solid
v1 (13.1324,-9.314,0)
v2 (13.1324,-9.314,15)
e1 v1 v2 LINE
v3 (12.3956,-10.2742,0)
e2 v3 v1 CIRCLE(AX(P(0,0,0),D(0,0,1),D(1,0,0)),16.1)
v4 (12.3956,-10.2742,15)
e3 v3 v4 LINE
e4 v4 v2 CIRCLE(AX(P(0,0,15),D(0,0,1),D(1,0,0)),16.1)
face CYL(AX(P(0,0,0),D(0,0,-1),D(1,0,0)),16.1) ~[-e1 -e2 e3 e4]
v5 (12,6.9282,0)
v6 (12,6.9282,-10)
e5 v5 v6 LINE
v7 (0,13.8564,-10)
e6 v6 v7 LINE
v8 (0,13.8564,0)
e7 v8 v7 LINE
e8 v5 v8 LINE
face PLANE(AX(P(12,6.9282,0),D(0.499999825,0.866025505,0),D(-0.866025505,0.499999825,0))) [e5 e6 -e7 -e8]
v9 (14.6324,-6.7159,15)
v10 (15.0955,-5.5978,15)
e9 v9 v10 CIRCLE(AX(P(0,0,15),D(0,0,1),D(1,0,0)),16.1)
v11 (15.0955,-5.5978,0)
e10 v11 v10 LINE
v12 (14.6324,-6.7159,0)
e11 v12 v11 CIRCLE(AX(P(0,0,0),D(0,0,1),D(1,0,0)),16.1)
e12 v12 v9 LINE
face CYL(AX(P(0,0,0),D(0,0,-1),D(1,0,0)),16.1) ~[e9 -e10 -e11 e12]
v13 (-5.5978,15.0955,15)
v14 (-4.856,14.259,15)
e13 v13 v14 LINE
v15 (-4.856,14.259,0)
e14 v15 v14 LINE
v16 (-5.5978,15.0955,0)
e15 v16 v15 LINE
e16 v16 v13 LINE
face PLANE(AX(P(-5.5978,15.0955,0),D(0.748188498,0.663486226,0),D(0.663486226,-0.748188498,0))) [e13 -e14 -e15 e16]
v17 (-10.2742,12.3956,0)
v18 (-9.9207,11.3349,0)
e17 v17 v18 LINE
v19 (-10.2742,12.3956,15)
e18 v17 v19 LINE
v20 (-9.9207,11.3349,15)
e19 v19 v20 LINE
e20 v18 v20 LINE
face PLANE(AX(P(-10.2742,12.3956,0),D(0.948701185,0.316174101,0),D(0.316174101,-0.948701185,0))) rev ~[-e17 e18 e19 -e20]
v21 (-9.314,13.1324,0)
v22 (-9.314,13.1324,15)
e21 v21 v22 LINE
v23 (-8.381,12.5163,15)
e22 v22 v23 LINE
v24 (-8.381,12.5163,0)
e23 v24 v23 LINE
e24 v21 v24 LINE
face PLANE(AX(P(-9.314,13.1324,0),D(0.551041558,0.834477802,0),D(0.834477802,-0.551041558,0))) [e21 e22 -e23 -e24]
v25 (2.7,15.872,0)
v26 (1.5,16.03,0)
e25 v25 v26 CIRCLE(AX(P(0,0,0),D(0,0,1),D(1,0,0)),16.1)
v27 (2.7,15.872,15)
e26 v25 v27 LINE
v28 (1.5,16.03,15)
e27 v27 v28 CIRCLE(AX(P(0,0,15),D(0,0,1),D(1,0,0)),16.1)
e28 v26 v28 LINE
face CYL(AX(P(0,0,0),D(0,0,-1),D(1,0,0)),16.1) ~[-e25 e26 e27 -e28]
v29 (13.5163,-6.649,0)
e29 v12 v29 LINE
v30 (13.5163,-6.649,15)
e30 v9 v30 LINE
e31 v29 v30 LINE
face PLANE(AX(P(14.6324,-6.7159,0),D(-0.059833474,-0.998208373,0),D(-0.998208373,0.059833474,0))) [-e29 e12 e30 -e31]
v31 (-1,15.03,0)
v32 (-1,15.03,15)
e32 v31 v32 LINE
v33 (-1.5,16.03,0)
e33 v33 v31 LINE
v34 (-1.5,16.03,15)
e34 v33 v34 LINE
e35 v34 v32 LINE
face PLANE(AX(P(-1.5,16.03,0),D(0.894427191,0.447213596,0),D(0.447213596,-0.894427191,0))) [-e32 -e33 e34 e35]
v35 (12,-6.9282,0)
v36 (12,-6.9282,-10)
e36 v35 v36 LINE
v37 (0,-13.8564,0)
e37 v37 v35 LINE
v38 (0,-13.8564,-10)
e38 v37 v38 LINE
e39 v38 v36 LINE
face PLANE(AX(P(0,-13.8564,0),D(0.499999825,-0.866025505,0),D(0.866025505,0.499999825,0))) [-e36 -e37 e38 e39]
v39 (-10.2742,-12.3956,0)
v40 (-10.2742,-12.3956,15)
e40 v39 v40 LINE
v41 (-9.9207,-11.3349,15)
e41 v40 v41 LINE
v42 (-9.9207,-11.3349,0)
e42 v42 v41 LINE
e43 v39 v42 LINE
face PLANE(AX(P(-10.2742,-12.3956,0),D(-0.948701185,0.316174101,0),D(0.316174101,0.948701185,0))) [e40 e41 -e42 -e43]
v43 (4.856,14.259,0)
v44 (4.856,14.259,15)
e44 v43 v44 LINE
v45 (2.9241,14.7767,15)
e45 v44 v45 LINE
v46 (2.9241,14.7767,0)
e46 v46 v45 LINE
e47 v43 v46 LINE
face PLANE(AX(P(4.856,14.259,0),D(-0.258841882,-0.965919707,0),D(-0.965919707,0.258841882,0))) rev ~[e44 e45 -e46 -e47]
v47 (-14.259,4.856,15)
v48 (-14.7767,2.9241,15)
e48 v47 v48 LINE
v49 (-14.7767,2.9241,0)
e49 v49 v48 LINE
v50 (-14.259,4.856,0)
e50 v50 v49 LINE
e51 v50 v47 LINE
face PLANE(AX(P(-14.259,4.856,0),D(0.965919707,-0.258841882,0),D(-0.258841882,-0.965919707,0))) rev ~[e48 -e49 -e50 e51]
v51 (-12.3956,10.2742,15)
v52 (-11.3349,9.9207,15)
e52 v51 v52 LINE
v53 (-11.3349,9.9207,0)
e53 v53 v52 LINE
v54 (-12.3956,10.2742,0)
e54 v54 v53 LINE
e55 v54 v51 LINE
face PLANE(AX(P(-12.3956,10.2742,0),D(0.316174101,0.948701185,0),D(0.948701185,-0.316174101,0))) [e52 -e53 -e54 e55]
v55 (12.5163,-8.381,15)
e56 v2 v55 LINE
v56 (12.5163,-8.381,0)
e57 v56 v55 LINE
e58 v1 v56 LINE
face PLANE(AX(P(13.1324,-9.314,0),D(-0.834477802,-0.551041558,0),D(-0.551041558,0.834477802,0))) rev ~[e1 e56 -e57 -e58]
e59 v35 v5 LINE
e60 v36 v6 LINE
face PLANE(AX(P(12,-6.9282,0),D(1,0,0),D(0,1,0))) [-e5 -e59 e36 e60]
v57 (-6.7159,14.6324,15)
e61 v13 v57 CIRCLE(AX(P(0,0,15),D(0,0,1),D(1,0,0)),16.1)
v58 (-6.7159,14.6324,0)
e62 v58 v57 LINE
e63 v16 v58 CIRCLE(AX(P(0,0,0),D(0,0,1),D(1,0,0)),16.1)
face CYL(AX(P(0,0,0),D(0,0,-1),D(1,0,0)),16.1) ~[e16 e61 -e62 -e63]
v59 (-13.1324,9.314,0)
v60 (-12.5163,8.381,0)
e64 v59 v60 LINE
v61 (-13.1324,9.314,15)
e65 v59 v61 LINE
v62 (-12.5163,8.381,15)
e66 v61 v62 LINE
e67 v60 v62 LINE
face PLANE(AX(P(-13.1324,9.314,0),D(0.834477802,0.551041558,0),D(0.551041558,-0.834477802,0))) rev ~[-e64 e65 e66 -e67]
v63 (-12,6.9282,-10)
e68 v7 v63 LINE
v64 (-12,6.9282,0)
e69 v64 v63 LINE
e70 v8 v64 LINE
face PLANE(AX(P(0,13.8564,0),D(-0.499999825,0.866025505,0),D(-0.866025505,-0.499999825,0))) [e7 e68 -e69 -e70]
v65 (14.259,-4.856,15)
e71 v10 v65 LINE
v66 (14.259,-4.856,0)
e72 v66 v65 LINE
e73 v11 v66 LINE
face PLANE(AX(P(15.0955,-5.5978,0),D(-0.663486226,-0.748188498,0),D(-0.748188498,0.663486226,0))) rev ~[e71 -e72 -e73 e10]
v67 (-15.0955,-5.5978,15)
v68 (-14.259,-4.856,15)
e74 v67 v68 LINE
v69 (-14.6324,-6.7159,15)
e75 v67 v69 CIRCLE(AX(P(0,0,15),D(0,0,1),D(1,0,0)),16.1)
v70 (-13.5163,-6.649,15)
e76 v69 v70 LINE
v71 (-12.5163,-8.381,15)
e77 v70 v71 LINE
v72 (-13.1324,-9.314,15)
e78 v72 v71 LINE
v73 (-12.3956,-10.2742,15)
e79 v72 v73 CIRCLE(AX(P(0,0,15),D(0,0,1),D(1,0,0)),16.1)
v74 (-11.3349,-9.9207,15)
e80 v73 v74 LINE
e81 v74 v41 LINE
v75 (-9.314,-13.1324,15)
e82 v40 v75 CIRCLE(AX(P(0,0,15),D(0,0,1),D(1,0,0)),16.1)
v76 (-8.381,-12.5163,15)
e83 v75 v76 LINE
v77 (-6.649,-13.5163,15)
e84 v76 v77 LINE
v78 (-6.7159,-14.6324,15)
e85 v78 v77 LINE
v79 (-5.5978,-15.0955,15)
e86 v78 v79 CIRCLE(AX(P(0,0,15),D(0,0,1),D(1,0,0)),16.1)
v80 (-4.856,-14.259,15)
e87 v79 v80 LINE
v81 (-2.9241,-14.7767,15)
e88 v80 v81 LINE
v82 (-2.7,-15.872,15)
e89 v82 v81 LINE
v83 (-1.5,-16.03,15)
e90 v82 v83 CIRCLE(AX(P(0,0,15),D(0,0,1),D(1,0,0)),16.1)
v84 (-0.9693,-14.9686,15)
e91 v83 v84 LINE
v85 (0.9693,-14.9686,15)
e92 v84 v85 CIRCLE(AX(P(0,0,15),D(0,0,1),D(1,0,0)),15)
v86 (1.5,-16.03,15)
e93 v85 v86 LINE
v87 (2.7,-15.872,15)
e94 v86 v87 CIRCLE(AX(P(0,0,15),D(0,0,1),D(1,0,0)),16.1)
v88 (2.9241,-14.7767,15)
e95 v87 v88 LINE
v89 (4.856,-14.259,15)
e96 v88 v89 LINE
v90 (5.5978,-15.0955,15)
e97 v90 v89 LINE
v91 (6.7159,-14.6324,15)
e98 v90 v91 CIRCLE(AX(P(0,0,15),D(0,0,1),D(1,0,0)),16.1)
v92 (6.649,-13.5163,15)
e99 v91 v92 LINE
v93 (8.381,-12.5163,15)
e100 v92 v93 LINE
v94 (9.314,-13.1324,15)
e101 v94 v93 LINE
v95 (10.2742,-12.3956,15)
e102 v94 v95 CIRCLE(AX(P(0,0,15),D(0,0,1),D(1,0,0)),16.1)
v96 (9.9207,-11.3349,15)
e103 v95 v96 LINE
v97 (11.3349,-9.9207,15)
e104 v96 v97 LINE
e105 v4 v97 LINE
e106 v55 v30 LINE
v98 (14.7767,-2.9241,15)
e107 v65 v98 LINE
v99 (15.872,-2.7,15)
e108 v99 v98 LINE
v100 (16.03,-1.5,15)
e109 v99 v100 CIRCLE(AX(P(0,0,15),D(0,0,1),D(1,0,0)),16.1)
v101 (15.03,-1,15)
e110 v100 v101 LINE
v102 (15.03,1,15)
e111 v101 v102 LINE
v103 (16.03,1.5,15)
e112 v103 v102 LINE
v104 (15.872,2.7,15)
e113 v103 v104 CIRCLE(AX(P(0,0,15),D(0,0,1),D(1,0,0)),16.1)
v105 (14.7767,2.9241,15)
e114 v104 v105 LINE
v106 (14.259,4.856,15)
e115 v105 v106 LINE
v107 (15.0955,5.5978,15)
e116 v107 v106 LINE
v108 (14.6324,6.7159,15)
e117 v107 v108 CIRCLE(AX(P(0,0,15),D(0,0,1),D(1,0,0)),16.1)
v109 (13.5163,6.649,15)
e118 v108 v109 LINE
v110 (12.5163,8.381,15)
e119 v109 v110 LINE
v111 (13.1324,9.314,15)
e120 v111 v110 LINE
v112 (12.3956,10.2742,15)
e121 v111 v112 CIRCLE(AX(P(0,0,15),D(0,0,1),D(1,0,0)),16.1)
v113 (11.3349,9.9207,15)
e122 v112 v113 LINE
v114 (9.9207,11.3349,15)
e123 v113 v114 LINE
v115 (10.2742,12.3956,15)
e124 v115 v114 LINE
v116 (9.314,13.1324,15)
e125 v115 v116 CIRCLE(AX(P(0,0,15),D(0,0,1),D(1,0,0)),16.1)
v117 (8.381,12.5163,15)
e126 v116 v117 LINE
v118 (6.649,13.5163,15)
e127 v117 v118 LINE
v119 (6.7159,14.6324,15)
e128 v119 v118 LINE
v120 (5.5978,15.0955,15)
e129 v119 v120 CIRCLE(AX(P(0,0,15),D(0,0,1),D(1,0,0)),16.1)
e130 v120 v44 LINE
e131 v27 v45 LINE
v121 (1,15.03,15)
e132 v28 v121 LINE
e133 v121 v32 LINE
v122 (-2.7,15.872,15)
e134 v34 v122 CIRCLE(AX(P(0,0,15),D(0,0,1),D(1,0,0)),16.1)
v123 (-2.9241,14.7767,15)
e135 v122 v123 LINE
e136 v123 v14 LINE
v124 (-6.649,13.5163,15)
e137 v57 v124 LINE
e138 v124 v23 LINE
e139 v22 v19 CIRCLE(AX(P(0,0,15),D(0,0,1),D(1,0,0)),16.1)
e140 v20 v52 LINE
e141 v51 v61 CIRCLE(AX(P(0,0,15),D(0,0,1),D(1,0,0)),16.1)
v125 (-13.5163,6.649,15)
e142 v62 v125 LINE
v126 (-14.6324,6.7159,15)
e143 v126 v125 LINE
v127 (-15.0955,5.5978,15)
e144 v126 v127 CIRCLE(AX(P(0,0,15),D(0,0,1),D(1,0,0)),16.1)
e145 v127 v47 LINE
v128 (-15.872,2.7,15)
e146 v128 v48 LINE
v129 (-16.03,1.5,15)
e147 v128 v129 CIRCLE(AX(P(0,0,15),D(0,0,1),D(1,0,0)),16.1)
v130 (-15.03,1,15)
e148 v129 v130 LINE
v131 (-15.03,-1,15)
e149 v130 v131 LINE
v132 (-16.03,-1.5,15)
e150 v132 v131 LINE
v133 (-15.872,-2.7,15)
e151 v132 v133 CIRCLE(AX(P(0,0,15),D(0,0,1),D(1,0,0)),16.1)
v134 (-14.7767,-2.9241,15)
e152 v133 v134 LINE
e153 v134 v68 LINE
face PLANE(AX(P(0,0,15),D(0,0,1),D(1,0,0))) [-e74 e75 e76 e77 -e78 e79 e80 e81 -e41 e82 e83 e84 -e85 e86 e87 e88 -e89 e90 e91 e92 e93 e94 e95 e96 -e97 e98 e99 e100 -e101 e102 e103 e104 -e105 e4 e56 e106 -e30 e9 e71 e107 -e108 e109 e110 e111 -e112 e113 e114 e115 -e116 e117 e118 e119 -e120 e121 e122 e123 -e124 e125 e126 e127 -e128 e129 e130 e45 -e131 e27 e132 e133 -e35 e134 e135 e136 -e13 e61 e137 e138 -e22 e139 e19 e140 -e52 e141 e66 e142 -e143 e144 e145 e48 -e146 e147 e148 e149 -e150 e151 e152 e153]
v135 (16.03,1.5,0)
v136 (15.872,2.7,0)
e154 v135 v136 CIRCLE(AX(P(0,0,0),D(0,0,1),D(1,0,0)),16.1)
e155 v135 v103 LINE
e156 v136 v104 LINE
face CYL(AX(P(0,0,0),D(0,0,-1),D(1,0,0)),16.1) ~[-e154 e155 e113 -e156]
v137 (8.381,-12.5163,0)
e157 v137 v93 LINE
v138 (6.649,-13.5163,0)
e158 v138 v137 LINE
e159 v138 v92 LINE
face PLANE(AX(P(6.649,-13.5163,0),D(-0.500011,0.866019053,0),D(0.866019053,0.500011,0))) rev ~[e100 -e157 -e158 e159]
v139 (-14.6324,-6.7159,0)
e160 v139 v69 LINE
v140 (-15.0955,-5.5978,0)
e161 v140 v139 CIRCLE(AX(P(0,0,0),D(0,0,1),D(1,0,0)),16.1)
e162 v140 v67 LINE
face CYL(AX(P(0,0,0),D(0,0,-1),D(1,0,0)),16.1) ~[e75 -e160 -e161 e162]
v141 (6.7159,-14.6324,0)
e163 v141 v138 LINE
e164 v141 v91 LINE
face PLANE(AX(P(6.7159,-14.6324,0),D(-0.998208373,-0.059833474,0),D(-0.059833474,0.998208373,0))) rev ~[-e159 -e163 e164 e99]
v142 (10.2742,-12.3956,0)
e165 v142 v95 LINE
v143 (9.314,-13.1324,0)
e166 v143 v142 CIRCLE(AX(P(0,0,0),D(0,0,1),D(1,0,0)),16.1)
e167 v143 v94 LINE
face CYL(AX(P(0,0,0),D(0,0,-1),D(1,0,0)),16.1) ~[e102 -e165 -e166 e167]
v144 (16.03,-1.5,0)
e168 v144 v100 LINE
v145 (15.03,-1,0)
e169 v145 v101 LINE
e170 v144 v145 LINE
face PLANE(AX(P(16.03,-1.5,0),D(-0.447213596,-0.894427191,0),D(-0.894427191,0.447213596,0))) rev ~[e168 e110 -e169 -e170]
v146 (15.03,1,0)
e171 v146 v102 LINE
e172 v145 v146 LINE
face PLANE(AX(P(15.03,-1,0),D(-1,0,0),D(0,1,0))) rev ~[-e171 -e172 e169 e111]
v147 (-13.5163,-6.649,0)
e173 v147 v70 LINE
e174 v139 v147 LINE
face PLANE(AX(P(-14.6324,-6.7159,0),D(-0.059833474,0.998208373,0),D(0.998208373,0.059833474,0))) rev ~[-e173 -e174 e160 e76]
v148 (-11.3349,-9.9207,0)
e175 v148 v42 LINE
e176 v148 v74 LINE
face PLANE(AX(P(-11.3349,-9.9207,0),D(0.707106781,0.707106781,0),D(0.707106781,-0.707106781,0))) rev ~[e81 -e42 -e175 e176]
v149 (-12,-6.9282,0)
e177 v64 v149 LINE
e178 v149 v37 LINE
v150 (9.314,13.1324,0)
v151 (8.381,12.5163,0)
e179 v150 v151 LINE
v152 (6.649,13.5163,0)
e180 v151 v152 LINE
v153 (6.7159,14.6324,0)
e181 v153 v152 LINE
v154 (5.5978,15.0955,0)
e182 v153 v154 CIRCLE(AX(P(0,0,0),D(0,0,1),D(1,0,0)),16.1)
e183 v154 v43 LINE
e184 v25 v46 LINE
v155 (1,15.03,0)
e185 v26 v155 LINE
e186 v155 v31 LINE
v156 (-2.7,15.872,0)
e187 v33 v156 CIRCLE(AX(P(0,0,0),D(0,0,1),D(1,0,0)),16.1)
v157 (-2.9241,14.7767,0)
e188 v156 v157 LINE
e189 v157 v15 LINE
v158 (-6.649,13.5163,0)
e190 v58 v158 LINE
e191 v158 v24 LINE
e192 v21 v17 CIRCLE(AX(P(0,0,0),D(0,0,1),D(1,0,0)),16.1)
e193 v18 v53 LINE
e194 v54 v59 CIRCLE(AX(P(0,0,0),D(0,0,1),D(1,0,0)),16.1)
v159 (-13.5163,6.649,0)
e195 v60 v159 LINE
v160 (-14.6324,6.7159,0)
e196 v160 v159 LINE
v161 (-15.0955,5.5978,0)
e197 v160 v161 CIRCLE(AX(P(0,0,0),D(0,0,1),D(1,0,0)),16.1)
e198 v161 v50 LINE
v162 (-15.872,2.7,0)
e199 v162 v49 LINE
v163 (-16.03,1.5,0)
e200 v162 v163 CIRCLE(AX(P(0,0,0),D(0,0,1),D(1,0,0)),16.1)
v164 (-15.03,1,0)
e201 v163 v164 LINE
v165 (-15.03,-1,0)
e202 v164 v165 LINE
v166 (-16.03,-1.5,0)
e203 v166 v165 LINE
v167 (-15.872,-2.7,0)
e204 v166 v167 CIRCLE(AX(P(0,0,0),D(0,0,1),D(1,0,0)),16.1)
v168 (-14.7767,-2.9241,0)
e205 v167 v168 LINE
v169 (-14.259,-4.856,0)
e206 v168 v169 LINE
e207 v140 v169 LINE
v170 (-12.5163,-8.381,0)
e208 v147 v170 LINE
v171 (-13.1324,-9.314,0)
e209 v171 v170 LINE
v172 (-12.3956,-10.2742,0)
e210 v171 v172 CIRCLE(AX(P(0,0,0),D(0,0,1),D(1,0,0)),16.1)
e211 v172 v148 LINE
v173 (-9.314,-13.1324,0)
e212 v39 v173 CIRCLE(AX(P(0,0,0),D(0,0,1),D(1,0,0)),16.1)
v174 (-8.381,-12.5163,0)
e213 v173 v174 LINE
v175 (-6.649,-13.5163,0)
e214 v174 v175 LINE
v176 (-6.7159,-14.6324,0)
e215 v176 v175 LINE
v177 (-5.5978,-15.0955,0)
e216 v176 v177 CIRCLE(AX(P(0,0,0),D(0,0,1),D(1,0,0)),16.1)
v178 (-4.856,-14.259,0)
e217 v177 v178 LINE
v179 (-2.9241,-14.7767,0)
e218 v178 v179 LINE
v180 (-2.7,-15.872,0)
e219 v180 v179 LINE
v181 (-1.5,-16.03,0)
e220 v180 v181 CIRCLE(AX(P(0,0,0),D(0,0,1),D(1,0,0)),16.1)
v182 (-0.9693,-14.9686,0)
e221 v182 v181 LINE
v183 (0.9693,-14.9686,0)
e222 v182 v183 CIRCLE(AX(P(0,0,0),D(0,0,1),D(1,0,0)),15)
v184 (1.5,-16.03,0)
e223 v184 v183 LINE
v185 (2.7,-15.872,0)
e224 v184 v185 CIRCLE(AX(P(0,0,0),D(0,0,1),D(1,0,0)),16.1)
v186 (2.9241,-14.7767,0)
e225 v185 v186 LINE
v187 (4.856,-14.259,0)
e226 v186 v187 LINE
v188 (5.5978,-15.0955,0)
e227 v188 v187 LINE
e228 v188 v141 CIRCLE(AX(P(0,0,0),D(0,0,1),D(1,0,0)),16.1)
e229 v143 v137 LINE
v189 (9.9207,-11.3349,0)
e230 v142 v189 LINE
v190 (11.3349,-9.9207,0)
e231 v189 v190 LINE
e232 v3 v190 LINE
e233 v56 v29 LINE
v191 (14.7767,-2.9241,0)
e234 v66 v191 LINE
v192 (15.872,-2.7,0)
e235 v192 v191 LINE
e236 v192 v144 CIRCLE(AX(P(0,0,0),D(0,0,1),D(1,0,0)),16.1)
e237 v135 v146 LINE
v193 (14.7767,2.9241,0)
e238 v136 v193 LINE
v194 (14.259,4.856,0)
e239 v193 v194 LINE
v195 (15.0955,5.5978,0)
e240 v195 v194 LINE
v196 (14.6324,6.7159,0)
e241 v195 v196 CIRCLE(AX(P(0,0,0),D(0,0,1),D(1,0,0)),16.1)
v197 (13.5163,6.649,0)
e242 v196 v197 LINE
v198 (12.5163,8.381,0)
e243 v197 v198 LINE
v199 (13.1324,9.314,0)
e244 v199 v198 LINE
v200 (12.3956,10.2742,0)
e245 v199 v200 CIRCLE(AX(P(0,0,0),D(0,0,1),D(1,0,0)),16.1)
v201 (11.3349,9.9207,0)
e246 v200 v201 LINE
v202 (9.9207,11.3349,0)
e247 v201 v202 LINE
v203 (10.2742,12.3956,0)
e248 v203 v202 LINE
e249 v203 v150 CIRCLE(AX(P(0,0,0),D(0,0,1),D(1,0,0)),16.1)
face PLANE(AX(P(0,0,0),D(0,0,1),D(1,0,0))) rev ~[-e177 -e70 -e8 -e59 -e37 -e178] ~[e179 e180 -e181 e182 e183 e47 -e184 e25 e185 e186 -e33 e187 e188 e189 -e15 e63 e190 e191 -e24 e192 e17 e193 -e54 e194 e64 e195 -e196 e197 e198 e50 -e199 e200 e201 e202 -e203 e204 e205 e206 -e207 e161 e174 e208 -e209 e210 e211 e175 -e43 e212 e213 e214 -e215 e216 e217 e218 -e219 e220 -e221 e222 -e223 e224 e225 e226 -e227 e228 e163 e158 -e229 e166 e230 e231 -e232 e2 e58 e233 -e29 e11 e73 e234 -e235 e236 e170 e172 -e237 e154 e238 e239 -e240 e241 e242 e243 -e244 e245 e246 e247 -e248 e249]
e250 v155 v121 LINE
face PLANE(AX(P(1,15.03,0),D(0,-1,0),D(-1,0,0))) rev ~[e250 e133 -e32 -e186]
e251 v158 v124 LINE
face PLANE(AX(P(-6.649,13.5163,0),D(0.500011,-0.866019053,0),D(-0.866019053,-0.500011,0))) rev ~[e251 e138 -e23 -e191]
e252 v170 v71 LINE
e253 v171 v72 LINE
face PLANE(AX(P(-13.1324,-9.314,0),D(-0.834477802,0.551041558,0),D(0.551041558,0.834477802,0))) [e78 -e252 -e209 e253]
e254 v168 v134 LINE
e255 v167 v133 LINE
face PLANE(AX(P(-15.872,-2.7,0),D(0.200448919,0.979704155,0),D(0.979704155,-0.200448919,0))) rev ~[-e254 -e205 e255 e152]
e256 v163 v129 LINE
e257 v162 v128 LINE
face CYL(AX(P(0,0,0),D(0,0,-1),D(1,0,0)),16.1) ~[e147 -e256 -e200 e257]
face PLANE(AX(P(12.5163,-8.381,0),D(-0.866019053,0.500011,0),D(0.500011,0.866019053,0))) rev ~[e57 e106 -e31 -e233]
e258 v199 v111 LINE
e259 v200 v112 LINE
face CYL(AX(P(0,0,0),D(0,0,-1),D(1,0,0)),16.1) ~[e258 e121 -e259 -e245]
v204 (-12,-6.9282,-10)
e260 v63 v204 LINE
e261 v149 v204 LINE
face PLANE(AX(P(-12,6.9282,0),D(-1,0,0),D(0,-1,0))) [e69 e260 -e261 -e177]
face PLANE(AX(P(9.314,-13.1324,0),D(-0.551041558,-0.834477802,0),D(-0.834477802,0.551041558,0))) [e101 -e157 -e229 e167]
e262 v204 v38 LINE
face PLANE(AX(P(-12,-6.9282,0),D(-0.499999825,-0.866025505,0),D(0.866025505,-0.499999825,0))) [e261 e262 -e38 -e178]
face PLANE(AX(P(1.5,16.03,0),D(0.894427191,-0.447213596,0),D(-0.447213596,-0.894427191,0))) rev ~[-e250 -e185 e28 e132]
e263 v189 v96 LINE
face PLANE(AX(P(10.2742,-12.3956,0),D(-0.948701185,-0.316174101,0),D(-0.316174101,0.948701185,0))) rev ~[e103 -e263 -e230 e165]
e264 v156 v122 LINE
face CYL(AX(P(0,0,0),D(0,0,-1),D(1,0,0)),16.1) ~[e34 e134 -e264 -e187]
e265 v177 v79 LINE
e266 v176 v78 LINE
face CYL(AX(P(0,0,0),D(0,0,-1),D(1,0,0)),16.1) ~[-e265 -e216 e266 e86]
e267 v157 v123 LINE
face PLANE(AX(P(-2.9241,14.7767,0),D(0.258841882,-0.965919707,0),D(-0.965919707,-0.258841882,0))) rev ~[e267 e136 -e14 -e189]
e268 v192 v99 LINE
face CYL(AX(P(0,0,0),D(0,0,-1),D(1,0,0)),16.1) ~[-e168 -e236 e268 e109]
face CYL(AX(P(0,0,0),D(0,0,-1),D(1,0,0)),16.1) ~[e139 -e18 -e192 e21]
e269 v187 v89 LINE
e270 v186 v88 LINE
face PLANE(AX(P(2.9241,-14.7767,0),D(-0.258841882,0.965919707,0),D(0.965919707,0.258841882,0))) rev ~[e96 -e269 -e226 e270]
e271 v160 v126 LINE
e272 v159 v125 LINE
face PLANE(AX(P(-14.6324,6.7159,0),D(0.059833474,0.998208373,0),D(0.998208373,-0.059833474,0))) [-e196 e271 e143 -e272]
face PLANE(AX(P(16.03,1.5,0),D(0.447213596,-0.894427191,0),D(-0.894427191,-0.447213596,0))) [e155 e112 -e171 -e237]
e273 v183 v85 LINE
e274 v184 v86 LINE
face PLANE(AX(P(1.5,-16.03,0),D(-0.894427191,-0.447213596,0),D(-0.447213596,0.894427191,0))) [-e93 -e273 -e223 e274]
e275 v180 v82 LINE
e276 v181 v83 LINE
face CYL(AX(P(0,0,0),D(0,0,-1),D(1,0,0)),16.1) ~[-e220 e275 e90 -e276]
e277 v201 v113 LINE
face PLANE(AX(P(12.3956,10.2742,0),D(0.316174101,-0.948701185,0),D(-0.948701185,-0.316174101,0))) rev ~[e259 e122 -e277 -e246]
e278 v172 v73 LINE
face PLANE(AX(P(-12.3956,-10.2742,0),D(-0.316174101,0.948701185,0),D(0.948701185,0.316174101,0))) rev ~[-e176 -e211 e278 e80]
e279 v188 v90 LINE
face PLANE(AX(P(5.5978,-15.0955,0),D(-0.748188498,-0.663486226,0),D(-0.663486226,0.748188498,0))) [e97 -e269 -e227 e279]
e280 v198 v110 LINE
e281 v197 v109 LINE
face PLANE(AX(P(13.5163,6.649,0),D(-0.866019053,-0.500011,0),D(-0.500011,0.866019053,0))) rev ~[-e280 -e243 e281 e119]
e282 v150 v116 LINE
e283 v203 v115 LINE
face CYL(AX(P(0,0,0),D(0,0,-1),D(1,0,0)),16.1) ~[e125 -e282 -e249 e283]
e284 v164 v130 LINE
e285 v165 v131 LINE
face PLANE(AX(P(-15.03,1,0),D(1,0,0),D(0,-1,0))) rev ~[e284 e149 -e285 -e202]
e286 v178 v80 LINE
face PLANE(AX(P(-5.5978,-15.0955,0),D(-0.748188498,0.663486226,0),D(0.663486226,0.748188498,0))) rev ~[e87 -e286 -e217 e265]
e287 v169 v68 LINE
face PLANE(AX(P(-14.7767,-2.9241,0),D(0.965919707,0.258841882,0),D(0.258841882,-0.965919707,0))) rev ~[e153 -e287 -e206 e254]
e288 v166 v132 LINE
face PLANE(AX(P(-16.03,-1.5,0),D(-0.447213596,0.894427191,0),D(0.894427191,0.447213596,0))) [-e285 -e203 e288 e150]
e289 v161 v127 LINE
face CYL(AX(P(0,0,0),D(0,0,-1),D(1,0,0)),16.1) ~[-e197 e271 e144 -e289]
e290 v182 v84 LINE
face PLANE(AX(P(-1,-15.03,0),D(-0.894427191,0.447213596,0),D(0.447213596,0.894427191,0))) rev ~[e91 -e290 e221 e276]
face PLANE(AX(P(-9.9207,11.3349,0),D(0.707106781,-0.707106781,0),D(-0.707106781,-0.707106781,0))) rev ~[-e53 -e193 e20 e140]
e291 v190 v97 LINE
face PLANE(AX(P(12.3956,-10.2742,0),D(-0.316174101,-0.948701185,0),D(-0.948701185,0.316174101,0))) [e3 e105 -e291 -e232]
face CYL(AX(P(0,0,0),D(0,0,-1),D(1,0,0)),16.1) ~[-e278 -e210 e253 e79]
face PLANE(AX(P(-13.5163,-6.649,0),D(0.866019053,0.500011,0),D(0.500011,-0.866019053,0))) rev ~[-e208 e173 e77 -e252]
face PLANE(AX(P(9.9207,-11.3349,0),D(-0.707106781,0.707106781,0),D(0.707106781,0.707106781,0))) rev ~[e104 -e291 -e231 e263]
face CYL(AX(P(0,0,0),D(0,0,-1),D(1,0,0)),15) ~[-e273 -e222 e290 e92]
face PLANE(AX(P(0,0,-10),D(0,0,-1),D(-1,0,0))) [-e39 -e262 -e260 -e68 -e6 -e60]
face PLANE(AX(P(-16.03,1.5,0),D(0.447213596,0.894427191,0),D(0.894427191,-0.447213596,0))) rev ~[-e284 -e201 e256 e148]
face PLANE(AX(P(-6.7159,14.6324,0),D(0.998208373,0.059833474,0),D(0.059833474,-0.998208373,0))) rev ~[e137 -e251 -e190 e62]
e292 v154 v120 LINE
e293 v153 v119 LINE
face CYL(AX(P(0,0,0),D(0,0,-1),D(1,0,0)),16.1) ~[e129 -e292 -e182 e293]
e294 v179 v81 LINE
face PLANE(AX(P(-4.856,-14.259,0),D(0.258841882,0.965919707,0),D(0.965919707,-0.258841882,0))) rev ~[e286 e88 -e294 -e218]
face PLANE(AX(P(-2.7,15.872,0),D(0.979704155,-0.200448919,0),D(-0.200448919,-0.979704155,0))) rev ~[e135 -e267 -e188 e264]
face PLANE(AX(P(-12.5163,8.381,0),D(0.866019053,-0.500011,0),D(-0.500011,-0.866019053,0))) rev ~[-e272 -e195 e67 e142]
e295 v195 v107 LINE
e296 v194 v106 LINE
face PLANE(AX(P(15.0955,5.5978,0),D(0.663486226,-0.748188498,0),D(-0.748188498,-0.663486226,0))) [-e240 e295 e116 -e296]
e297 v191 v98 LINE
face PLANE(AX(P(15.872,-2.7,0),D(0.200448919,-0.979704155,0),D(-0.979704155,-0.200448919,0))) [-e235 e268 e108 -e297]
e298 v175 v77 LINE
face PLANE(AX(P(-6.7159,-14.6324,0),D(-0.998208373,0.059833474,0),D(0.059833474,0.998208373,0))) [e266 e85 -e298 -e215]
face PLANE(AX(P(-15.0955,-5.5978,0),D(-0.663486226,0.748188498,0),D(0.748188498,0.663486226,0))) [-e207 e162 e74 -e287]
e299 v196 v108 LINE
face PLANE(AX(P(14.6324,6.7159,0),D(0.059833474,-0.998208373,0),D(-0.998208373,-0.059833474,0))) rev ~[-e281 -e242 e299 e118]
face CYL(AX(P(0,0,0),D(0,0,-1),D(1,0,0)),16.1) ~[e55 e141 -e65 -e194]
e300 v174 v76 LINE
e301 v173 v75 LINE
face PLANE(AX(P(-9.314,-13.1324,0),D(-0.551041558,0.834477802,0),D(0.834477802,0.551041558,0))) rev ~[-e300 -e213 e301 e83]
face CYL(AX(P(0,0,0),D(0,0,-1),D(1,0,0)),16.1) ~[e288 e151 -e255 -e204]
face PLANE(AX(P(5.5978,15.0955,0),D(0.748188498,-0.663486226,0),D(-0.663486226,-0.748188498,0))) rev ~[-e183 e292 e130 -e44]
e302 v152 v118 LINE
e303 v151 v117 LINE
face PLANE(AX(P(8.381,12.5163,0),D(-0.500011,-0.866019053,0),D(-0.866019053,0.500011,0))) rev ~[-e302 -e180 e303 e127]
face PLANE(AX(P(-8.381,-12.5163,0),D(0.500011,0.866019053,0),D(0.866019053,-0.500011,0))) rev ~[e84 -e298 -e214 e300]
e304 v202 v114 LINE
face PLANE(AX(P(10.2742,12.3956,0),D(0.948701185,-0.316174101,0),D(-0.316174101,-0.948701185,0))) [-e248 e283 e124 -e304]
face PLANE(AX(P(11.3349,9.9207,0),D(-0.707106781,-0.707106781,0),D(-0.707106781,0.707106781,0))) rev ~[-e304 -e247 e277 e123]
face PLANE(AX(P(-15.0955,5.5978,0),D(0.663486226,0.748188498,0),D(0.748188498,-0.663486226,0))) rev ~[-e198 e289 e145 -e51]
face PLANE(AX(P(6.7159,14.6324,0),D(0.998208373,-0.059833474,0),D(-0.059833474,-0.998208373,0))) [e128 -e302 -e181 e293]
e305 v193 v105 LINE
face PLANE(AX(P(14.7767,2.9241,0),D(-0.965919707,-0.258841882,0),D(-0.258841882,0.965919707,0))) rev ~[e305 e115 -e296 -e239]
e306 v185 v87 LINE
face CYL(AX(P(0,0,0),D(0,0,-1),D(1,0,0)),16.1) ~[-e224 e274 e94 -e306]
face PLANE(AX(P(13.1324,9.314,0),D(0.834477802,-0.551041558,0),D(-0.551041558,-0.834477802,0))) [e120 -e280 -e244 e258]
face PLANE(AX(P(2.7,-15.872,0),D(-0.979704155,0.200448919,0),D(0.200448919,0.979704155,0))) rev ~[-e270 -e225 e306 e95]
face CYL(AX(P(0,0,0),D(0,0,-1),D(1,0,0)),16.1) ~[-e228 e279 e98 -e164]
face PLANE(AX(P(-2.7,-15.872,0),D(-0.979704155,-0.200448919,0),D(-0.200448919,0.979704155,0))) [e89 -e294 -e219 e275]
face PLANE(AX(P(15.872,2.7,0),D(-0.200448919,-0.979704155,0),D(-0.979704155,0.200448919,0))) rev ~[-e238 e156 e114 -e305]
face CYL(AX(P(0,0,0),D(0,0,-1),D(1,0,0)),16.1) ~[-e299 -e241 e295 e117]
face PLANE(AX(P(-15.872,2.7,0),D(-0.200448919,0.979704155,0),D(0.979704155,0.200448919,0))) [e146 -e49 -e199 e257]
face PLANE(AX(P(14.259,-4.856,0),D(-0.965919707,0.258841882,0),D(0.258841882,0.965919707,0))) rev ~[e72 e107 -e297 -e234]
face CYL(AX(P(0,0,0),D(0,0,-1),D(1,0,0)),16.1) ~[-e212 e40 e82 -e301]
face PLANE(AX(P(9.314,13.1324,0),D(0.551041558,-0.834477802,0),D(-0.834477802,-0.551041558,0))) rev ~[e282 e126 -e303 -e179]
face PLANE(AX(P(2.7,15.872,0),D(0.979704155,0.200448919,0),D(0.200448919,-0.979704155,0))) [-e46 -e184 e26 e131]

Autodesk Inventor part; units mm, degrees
ref_plane "YZ Plane" through (0, 0, 0) normal (1, 0, 0) x (0, 1, 0)
ref_plane "XZ Plane" through (0, 0, 0) normal (0, 1, 0) x (-1, 0, 0)
ref_plane "XY Plane" through (0, 0, 0) normal (0, 0, 1) x (1, 0, 0)
sketch "Sketch1" plane through (0, 0, 0) normal (0, 0, 1) x (1, 0, 0)
  circle A0 centre (0, 0) radius 17.25
  circle A1 centre (0, 0) radius 16.1
  circle A2 centre (0, 0) radius 15
  line L0 (-1, -15.03) -> (1, -15.03)
  line L1 (-1.5, -16.03) -> (1.5, -16.03)
  line L2 (1.5, -16.03) -> (1, -15.03)
  line L3 (-1.5, -16.03) -> (-1, -15.03)
  line L4 (-1, -15.03) -> (-0.9693, -14.9686)
  line L5 (1, -15.03) -> (0.9693, -14.9686)
  line L6 (2.9241, -14.7767) -> (4.856, -14.259)
  line L7 (2.7, -15.872) -> (2.9241, -14.7767)
  line L8 (2.9241, -14.7767) -> (2.9379, -14.7095)
  line L9 (5.5978, -15.0955) -> (4.856, -14.259)
  line L10 (4.856, -14.259) -> (4.8105, -14.2077)
  line L11 (6.649, -13.5163) -> (8.381, -12.5163)
  line L12 (6.7159, -14.6324) -> (6.649, -13.5163)
  line L13 (6.649, -13.5163) -> (6.6449, -13.4479)
  line L14 (9.314, -13.1324) -> (8.381, -12.5163)
  line L15 (8.381, -12.5163) -> (8.3238, -12.4786)
  line L16 (9.9207, -11.3349) -> (11.3349, -9.9207)
  line L17 (10.2742, -12.3956) -> (9.9207, -11.3349)
  line L18 (9.9207, -11.3349) -> (9.899, -11.2699)
  line L19 (12.3956, -10.2742) -> (11.3349, -9.9207)
  line L20 (11.3349, -9.9207) -> (11.2699, -9.899)
  line L21 (12.5163, -8.381) -> (13.5163, -6.649)
  line L22 (13.1324, -9.314) -> (12.5163, -8.381)
  line L23 (12.5163, -8.381) -> (12.4786, -8.3238)
  line L24 (14.6324, -6.7159) -> (13.5163, -6.649)
  line L25 (13.5163, -6.649) -> (13.4479, -6.6449)
  line L26 (14.259, -4.856) -> (14.7767, -2.9241)
  line L27 (15.0955, -5.5978) -> (14.259, -4.856)
  line L28 (14.259, -4.856) -> (14.2077, -4.8105)
  line L29 (15.872, -2.7) -> (14.7767, -2.9241)
  line L30 (14.7767, -2.9241) -> (14.7095, -2.9379)
  line L31 (15.03, -1) -> (15.03, 1)
  line L32 (16.03, -1.5) -> (15.03, -1)
  line L33 (15.03, -1) -> (14.9686, -0.9693)
  line L34 (16.03, 1.5) -> (15.03, 1)
  line L35 (15.03, 1) -> (14.9686, 0.9693)
  line L36 (14.7767, 2.9241) -> (14.259, 4.856)
  line L37 (15.872, 2.7) -> (14.7767, 2.9241)
  line L38 (14.7767, 2.9241) -> (14.7095, 2.9379)
  line L39 (15.0955, 5.5978) -> (14.259, 4.856)
  line L40 (14.259, 4.856) -> (14.2077, 4.8105)
  line L41 (13.5163, 6.649) -> (12.5163, 8.381)
  line L42 (14.6324, 6.7159) -> (13.5163, 6.649)
  line L43 (13.5163, 6.649) -> (13.4479, 6.6449)
  line L44 (13.1324, 9.314) -> (12.5163, 8.381)
  line L45 (12.5163, 8.381) -> (12.4786, 8.3238)
  line L46 (11.3349, 9.9207) -> (9.9207, 11.3349)
  line L47 (12.3956, 10.2742) -> (11.3349, 9.9207)
  line L48 (11.3349, 9.9207) -> (11.2699, 9.899)
  line L49 (10.2742, 12.3956) -> (9.9207, 11.3349)
  line L50 (9.9207, 11.3349) -> (9.899, 11.2699)
  line L51 (8.381, 12.5163) -> (6.649, 13.5163)
  line L52 (9.314, 13.1324) -> (8.381, 12.5163)
  line L53 (8.381, 12.5163) -> (8.3238, 12.4786)
  line L54 (6.7159, 14.6324) -> (6.649, 13.5163)
  line L55 (6.649, 13.5163) -> (6.6449, 13.4479)
  line L56 (4.856, 14.259) -> (2.9241, 14.7767)
  line L57 (5.5978, 15.0955) -> (4.856, 14.259)
  line L58 (4.856, 14.259) -> (4.8105, 14.2077)
  line L59 (2.7, 15.872) -> (2.9241, 14.7767)
  line L60 (2.9241, 14.7767) -> (2.9379, 14.7095)
  line L61 (1, 15.03) -> (-1, 15.03)
  line L62 (1.5, 16.03) -> (1, 15.03)
  line L63 (1, 15.03) -> (0.9693, 14.9686)
  line L64 (-1.5, 16.03) -> (-1, 15.03)
  line L65 (-1, 15.03) -> (-0.9693, 14.9686)
  line L66 (-2.9241, 14.7767) -> (-4.856, 14.259)
  line L67 (-2.7, 15.872) -> (-2.9241, 14.7767)
  line L68 (-2.9241, 14.7767) -> (-2.9379, 14.7095)
  line L69 (-5.5978, 15.0955) -> (-4.856, 14.259)
  line L70 (-4.856, 14.259) -> (-4.8105, 14.2077)
  line L71 (-6.649, 13.5163) -> (-8.381, 12.5163)
  line L72 (-6.7159, 14.6324) -> (-6.649, 13.5163)
  line L73 (-6.649, 13.5163) -> (-6.6449, 13.4479)
  line L74 (-9.314, 13.1324) -> (-8.381, 12.5163)
  line L75 (-8.381, 12.5163) -> (-8.3238, 12.4786)
  line L76 (-9.9207, 11.3349) -> (-11.3349, 9.9207)
  line L77 (-10.2742, 12.3956) -> (-9.9207, 11.3349)
  line L78 (-9.9207, 11.3349) -> (-9.899, 11.2699)
  line L79 (-12.3956, 10.2742) -> (-11.3349, 9.9207)
  line L80 (-11.3349, 9.9207) -> (-11.2699, 9.899)
  line L81 (-12.5163, 8.381) -> (-13.5163, 6.649)
  line L82 (-13.1324, 9.314) -> (-12.5163, 8.381)
  line L83 (-12.5163, 8.381) -> (-12.4786, 8.3238)
  line L84 (-14.6324, 6.7159) -> (-13.5163, 6.649)
  line L85 (-13.5163, 6.649) -> (-13.4479, 6.6449)
  line L86 (-14.259, 4.856) -> (-14.7767, 2.9241)
  line L87 (-15.0955, 5.5978) -> (-14.259, 4.856)
  line L88 (-14.259, 4.856) -> (-14.2077, 4.8105)
  line L89 (-15.872, 2.7) -> (-14.7767, 2.9241)
  line L90 (-14.7767, 2.9241) -> (-14.7095, 2.9379)
  line L91 (-15.03, 1) -> (-15.03, -1)
  line L92 (-16.03, 1.5) -> (-15.03, 1)
  line L93 (-15.03, 1) -> (-14.9686, 0.9693)
  line L94 (-16.03, -1.5) -> (-15.03, -1)
  line L95 (-15.03, -1) -> (-14.9686, -0.9693)
  line L96 (-14.7767, -2.9241) -> (-14.259, -4.856)
  line L97 (-15.872, -2.7) -> (-14.7767, -2.9241)
  line L98 (-14.7767, -2.9241) -> (-14.7095, -2.9379)
  line L99 (-15.0955, -5.5978) -> (-14.259, -4.856)
  line L100 (-14.259, -4.856) -> (-14.2077, -4.8105)
  line L101 (-13.5163, -6.649) -> (-12.5163, -8.381)
  line L102 (-14.6324, -6.7159) -> (-13.5163, -6.649)
  line L103 (-13.5163, -6.649) -> (-13.4479, -6.6449)
  line L104 (-13.1324, -9.314) -> (-12.5163, -8.381)
  line L105 (-12.5163, -8.381) -> (-12.4786, -8.3238)
  line L106 (-11.3349, -9.9207) -> (-9.9207, -11.3349)
  line L107 (-12.3956, -10.2742) -> (-11.3349, -9.9207)
  line L108 (-11.3349, -9.9207) -> (-11.2699, -9.899)
  line L109 (-10.2742, -12.3956) -> (-9.9207, -11.3349)
  line L110 (-9.9207, -11.3349) -> (-9.899, -11.2699)
  line L111 (-8.381, -12.5163) -> (-6.649, -13.5163)
  line L112 (-9.314, -13.1324) -> (-8.381, -12.5163)
  line L113 (-8.381, -12.5163) -> (-8.3238, -12.4786)
  line L114 (-6.7159, -14.6324) -> (-6.649, -13.5163)
  line L115 (-6.649, -13.5163) -> (-6.6449, -13.4479)
  line L116 (-4.856, -14.259) -> (-2.9241, -14.7767)
  line L117 (-5.5978, -15.0955) -> (-4.856, -14.259)
  line L118 (-4.856, -14.259) -> (-4.8105, -14.2077)
  line L119 (-2.7, -15.872) -> (-2.9241, -14.7767)
  line L120 (-2.9241, -14.7767) -> (-2.9379, -14.7095)
  point P0 (0, -16.03)
  point P1 (0, -15.03)
  point P2 (1.5, -16.03)
  point P3 (1.5, -16.03)
  point P4 (3.89, -14.5178)
  point P5 (7.515, -13.0163)
  point P6 (10.6278, -10.6278)
  point P7 (13.0163, -7.515)
  point P8 (14.5178, -3.89)
  point P9 (15.03, 0)
  point P10 (14.5178, 3.89)
  point P11 (13.0163, 7.515)
  point P12 (10.6278, 10.6278)
  point P13 (7.515, 13.0163)
  point P14 (3.89, 14.5178)
  point P15 (0, 15.03)
  point P16 (-3.89, 14.5178)
  point P17 (-7.515, 13.0163)
  point P18 (-10.6278, 10.6278)
  point P19 (-13.0163, 7.515)
  point P20 (-14.5178, 3.89)
  point P21 (-15.03, 0)
  point P22 (-14.5178, -3.89)
  point P23 (-13.0163, -7.515)
  point P24 (-10.6278, -10.6278)
  point P25 (-7.515, -13.0163)
  point P26 (-3.89, -14.5178)
  point P27 (2.7, -15.872)
  point P28 (5.5978, -15.0955)
  point P29 (6.7159, -14.6324)
  point P30 (9.314, -13.1324)
  point P31 (10.2742, -12.3956)
  point P32 (12.3956, -10.2742)
  point P33 (14.6324, -6.7159)
  point P34 (15.872, -2.7)
  point P35 (16.03, -1.5)
  point P36 (16.03, 1.5)
  point P37 (15.872, 2.7)
  point P38 (15.0955, 5.5978)
  point P39 (14.6324, 6.7159)
  point P40 (13.1324, 9.314)
  point P41 (12.3956, 10.2742)
  point P42 (10.2742, 12.3956)
  point P43 (6.7159, 14.6324)
  point P44 (2.7, 15.872)
  point P45 (1.5, 16.03)
  point P46 (-1.5, 16.03)
  point P47 (-5.5978, 15.0955)
  point P48 (-6.7159, 14.6324)
  point P49 (-10.2742, 12.3956)
  point P50 (-12.3956, 10.2742)
  point P51 (-14.6324, 6.7159)
  point P52 (-15.0955, 5.5978)
  point P53 (-15.872, 2.7)
  point P54 (-16.03, -1.5)
  point P55 (-14.6324, -6.7159)
  point P56 (-12.3956, -10.2742)
  point P57 (-10.2742, -12.3956)
  point P58 (-9.314, -13.1324)
  point P59 (-6.7159, -14.6324)
  point P60 (-5.5978, -15.0955)
  point P61 (-2.7, -15.872)
  dimension "d1" = 32.2
  dimension "d0" = 34.5
  dimension "d2" = 30
  dimension "d3" = 2
  dimension "d4" = 3
  dimension "d5" = 1
  dimension "d20" = 360
extrude "Extrusion1" add sketch "Sketch1" along normal blind 15 contours L34 L35 A2 L38 L37 A1 | A1 L29 L30 A2 L33 L32 | L31 L33 A2 L35 | L39 L40 A2 L43 L42 A1 | L38 A2 L40 L36 | A2 | A1 L24 L25 A2 L28 L27 | L26 L28 A2 L30 | L44 L45 A2 L48 L47 A1 | L43 A2 L45 L41 | A1 L19 L20 A2 L23 L22 | L21 L23 A2 L25 | L49 L50 A2 L53 L52 A1 | L48 A2 L50 L46 | A1 L14 L15 A2 L18 L17 | L16 L18 A2 L20 | L54 L55 A2 L58 L57 A1 | L53 A2 L55 L51 | A1 L9 L10 A2 L13 L12 | L11 L13 A2 L15 | L59 L60 A2 L63 L62 A1 | L58 A2 L60 L56 | A1 L2 L5 A2 L8 L7 | L6 L8 A2 L10 | L64 L65 A2 L68 L67 A1 | L63 A2 L65 L61 | A1 L119 L120 A2 L4 L3 | L69 L70 A2 L73 L72 A1 | L68 A2 L70 L66 | A1 L114 L115 A2 L118 L117 | L116 L118 A2 L120 | L74 L75 A2 L78 L77 A1 | L73 A2 L75 L71 | A1 L109 L110 A2 L113 L112 | L111 L113 A2 L115 | L79 L80 A2 L83 L82 A1 | L78 A2 L80 L76 | A1 L104 L105 A2 L108 L107 | L106 L108 A2 L110 | L84 L85 A2 L88 L87 A1 | L83 A2 L85 L81 | A1 L99 L100 A2 L103 L102 | L101 L103 A2 L105 | L89 L90 A2 L93 L92 A1 | L88 A2 L90 L86 | A1 L94 L95 A2 L98 L97 | L96 L98 A2 L100 | L93 A2 L95 L91
sketch "Sketch2" plane through (0, 0, 0) normal (0, 0, -1) x (-1, 0, 0)
  line L0 (12, 6.9282) -> (12, -6.9282)
  line L1 (12, -6.9282) -> (0, -13.8564)
  line L2 (0, -13.8564) -> (-12, -6.9282)
  line L3 (-12, -6.9282) -> (-12, 6.9282)
  line L4 (-12, 6.9282) -> (0, 13.8564)
  line L5 (0, 13.8564) -> (12, 6.9282)
  point P0 (0, 0)
  point P1 (0, 0)
  dimension "d12" = 24
extrude "Extrusion2" add sketch "Sketch2" along normal blind 10
sketch "Sketch3" plane through (0, 0, -10) normal (0, 0, -1) x (-1, 0, 0)
  circle A0 centre (0, 0) radius 7.5
  dimension "d15" = 15
extrude "Extrusion3" [suppressed]
sketch "Sketch4" plane through (0, 0, 0) normal (1, 0, 0) x (0, 1, 0)
  line L0 (20.1089, -13.3141) -> (-23.1689, -13.3141)
  line L1 (-23.1689, -13.3141) -> (-23.1689, 5.9253)
  line L2 (-23.1689, 5.9253) -> (20.1089, 5.9253)
  line L3 (20.1089, 5.9253) -> (20.1089, -13.3141)
  point P0 (0, 0)
extrude "Extrusion4" [suppressed]
properties part number "Nastavek Millard freewheel tool izmerjen trapze"
